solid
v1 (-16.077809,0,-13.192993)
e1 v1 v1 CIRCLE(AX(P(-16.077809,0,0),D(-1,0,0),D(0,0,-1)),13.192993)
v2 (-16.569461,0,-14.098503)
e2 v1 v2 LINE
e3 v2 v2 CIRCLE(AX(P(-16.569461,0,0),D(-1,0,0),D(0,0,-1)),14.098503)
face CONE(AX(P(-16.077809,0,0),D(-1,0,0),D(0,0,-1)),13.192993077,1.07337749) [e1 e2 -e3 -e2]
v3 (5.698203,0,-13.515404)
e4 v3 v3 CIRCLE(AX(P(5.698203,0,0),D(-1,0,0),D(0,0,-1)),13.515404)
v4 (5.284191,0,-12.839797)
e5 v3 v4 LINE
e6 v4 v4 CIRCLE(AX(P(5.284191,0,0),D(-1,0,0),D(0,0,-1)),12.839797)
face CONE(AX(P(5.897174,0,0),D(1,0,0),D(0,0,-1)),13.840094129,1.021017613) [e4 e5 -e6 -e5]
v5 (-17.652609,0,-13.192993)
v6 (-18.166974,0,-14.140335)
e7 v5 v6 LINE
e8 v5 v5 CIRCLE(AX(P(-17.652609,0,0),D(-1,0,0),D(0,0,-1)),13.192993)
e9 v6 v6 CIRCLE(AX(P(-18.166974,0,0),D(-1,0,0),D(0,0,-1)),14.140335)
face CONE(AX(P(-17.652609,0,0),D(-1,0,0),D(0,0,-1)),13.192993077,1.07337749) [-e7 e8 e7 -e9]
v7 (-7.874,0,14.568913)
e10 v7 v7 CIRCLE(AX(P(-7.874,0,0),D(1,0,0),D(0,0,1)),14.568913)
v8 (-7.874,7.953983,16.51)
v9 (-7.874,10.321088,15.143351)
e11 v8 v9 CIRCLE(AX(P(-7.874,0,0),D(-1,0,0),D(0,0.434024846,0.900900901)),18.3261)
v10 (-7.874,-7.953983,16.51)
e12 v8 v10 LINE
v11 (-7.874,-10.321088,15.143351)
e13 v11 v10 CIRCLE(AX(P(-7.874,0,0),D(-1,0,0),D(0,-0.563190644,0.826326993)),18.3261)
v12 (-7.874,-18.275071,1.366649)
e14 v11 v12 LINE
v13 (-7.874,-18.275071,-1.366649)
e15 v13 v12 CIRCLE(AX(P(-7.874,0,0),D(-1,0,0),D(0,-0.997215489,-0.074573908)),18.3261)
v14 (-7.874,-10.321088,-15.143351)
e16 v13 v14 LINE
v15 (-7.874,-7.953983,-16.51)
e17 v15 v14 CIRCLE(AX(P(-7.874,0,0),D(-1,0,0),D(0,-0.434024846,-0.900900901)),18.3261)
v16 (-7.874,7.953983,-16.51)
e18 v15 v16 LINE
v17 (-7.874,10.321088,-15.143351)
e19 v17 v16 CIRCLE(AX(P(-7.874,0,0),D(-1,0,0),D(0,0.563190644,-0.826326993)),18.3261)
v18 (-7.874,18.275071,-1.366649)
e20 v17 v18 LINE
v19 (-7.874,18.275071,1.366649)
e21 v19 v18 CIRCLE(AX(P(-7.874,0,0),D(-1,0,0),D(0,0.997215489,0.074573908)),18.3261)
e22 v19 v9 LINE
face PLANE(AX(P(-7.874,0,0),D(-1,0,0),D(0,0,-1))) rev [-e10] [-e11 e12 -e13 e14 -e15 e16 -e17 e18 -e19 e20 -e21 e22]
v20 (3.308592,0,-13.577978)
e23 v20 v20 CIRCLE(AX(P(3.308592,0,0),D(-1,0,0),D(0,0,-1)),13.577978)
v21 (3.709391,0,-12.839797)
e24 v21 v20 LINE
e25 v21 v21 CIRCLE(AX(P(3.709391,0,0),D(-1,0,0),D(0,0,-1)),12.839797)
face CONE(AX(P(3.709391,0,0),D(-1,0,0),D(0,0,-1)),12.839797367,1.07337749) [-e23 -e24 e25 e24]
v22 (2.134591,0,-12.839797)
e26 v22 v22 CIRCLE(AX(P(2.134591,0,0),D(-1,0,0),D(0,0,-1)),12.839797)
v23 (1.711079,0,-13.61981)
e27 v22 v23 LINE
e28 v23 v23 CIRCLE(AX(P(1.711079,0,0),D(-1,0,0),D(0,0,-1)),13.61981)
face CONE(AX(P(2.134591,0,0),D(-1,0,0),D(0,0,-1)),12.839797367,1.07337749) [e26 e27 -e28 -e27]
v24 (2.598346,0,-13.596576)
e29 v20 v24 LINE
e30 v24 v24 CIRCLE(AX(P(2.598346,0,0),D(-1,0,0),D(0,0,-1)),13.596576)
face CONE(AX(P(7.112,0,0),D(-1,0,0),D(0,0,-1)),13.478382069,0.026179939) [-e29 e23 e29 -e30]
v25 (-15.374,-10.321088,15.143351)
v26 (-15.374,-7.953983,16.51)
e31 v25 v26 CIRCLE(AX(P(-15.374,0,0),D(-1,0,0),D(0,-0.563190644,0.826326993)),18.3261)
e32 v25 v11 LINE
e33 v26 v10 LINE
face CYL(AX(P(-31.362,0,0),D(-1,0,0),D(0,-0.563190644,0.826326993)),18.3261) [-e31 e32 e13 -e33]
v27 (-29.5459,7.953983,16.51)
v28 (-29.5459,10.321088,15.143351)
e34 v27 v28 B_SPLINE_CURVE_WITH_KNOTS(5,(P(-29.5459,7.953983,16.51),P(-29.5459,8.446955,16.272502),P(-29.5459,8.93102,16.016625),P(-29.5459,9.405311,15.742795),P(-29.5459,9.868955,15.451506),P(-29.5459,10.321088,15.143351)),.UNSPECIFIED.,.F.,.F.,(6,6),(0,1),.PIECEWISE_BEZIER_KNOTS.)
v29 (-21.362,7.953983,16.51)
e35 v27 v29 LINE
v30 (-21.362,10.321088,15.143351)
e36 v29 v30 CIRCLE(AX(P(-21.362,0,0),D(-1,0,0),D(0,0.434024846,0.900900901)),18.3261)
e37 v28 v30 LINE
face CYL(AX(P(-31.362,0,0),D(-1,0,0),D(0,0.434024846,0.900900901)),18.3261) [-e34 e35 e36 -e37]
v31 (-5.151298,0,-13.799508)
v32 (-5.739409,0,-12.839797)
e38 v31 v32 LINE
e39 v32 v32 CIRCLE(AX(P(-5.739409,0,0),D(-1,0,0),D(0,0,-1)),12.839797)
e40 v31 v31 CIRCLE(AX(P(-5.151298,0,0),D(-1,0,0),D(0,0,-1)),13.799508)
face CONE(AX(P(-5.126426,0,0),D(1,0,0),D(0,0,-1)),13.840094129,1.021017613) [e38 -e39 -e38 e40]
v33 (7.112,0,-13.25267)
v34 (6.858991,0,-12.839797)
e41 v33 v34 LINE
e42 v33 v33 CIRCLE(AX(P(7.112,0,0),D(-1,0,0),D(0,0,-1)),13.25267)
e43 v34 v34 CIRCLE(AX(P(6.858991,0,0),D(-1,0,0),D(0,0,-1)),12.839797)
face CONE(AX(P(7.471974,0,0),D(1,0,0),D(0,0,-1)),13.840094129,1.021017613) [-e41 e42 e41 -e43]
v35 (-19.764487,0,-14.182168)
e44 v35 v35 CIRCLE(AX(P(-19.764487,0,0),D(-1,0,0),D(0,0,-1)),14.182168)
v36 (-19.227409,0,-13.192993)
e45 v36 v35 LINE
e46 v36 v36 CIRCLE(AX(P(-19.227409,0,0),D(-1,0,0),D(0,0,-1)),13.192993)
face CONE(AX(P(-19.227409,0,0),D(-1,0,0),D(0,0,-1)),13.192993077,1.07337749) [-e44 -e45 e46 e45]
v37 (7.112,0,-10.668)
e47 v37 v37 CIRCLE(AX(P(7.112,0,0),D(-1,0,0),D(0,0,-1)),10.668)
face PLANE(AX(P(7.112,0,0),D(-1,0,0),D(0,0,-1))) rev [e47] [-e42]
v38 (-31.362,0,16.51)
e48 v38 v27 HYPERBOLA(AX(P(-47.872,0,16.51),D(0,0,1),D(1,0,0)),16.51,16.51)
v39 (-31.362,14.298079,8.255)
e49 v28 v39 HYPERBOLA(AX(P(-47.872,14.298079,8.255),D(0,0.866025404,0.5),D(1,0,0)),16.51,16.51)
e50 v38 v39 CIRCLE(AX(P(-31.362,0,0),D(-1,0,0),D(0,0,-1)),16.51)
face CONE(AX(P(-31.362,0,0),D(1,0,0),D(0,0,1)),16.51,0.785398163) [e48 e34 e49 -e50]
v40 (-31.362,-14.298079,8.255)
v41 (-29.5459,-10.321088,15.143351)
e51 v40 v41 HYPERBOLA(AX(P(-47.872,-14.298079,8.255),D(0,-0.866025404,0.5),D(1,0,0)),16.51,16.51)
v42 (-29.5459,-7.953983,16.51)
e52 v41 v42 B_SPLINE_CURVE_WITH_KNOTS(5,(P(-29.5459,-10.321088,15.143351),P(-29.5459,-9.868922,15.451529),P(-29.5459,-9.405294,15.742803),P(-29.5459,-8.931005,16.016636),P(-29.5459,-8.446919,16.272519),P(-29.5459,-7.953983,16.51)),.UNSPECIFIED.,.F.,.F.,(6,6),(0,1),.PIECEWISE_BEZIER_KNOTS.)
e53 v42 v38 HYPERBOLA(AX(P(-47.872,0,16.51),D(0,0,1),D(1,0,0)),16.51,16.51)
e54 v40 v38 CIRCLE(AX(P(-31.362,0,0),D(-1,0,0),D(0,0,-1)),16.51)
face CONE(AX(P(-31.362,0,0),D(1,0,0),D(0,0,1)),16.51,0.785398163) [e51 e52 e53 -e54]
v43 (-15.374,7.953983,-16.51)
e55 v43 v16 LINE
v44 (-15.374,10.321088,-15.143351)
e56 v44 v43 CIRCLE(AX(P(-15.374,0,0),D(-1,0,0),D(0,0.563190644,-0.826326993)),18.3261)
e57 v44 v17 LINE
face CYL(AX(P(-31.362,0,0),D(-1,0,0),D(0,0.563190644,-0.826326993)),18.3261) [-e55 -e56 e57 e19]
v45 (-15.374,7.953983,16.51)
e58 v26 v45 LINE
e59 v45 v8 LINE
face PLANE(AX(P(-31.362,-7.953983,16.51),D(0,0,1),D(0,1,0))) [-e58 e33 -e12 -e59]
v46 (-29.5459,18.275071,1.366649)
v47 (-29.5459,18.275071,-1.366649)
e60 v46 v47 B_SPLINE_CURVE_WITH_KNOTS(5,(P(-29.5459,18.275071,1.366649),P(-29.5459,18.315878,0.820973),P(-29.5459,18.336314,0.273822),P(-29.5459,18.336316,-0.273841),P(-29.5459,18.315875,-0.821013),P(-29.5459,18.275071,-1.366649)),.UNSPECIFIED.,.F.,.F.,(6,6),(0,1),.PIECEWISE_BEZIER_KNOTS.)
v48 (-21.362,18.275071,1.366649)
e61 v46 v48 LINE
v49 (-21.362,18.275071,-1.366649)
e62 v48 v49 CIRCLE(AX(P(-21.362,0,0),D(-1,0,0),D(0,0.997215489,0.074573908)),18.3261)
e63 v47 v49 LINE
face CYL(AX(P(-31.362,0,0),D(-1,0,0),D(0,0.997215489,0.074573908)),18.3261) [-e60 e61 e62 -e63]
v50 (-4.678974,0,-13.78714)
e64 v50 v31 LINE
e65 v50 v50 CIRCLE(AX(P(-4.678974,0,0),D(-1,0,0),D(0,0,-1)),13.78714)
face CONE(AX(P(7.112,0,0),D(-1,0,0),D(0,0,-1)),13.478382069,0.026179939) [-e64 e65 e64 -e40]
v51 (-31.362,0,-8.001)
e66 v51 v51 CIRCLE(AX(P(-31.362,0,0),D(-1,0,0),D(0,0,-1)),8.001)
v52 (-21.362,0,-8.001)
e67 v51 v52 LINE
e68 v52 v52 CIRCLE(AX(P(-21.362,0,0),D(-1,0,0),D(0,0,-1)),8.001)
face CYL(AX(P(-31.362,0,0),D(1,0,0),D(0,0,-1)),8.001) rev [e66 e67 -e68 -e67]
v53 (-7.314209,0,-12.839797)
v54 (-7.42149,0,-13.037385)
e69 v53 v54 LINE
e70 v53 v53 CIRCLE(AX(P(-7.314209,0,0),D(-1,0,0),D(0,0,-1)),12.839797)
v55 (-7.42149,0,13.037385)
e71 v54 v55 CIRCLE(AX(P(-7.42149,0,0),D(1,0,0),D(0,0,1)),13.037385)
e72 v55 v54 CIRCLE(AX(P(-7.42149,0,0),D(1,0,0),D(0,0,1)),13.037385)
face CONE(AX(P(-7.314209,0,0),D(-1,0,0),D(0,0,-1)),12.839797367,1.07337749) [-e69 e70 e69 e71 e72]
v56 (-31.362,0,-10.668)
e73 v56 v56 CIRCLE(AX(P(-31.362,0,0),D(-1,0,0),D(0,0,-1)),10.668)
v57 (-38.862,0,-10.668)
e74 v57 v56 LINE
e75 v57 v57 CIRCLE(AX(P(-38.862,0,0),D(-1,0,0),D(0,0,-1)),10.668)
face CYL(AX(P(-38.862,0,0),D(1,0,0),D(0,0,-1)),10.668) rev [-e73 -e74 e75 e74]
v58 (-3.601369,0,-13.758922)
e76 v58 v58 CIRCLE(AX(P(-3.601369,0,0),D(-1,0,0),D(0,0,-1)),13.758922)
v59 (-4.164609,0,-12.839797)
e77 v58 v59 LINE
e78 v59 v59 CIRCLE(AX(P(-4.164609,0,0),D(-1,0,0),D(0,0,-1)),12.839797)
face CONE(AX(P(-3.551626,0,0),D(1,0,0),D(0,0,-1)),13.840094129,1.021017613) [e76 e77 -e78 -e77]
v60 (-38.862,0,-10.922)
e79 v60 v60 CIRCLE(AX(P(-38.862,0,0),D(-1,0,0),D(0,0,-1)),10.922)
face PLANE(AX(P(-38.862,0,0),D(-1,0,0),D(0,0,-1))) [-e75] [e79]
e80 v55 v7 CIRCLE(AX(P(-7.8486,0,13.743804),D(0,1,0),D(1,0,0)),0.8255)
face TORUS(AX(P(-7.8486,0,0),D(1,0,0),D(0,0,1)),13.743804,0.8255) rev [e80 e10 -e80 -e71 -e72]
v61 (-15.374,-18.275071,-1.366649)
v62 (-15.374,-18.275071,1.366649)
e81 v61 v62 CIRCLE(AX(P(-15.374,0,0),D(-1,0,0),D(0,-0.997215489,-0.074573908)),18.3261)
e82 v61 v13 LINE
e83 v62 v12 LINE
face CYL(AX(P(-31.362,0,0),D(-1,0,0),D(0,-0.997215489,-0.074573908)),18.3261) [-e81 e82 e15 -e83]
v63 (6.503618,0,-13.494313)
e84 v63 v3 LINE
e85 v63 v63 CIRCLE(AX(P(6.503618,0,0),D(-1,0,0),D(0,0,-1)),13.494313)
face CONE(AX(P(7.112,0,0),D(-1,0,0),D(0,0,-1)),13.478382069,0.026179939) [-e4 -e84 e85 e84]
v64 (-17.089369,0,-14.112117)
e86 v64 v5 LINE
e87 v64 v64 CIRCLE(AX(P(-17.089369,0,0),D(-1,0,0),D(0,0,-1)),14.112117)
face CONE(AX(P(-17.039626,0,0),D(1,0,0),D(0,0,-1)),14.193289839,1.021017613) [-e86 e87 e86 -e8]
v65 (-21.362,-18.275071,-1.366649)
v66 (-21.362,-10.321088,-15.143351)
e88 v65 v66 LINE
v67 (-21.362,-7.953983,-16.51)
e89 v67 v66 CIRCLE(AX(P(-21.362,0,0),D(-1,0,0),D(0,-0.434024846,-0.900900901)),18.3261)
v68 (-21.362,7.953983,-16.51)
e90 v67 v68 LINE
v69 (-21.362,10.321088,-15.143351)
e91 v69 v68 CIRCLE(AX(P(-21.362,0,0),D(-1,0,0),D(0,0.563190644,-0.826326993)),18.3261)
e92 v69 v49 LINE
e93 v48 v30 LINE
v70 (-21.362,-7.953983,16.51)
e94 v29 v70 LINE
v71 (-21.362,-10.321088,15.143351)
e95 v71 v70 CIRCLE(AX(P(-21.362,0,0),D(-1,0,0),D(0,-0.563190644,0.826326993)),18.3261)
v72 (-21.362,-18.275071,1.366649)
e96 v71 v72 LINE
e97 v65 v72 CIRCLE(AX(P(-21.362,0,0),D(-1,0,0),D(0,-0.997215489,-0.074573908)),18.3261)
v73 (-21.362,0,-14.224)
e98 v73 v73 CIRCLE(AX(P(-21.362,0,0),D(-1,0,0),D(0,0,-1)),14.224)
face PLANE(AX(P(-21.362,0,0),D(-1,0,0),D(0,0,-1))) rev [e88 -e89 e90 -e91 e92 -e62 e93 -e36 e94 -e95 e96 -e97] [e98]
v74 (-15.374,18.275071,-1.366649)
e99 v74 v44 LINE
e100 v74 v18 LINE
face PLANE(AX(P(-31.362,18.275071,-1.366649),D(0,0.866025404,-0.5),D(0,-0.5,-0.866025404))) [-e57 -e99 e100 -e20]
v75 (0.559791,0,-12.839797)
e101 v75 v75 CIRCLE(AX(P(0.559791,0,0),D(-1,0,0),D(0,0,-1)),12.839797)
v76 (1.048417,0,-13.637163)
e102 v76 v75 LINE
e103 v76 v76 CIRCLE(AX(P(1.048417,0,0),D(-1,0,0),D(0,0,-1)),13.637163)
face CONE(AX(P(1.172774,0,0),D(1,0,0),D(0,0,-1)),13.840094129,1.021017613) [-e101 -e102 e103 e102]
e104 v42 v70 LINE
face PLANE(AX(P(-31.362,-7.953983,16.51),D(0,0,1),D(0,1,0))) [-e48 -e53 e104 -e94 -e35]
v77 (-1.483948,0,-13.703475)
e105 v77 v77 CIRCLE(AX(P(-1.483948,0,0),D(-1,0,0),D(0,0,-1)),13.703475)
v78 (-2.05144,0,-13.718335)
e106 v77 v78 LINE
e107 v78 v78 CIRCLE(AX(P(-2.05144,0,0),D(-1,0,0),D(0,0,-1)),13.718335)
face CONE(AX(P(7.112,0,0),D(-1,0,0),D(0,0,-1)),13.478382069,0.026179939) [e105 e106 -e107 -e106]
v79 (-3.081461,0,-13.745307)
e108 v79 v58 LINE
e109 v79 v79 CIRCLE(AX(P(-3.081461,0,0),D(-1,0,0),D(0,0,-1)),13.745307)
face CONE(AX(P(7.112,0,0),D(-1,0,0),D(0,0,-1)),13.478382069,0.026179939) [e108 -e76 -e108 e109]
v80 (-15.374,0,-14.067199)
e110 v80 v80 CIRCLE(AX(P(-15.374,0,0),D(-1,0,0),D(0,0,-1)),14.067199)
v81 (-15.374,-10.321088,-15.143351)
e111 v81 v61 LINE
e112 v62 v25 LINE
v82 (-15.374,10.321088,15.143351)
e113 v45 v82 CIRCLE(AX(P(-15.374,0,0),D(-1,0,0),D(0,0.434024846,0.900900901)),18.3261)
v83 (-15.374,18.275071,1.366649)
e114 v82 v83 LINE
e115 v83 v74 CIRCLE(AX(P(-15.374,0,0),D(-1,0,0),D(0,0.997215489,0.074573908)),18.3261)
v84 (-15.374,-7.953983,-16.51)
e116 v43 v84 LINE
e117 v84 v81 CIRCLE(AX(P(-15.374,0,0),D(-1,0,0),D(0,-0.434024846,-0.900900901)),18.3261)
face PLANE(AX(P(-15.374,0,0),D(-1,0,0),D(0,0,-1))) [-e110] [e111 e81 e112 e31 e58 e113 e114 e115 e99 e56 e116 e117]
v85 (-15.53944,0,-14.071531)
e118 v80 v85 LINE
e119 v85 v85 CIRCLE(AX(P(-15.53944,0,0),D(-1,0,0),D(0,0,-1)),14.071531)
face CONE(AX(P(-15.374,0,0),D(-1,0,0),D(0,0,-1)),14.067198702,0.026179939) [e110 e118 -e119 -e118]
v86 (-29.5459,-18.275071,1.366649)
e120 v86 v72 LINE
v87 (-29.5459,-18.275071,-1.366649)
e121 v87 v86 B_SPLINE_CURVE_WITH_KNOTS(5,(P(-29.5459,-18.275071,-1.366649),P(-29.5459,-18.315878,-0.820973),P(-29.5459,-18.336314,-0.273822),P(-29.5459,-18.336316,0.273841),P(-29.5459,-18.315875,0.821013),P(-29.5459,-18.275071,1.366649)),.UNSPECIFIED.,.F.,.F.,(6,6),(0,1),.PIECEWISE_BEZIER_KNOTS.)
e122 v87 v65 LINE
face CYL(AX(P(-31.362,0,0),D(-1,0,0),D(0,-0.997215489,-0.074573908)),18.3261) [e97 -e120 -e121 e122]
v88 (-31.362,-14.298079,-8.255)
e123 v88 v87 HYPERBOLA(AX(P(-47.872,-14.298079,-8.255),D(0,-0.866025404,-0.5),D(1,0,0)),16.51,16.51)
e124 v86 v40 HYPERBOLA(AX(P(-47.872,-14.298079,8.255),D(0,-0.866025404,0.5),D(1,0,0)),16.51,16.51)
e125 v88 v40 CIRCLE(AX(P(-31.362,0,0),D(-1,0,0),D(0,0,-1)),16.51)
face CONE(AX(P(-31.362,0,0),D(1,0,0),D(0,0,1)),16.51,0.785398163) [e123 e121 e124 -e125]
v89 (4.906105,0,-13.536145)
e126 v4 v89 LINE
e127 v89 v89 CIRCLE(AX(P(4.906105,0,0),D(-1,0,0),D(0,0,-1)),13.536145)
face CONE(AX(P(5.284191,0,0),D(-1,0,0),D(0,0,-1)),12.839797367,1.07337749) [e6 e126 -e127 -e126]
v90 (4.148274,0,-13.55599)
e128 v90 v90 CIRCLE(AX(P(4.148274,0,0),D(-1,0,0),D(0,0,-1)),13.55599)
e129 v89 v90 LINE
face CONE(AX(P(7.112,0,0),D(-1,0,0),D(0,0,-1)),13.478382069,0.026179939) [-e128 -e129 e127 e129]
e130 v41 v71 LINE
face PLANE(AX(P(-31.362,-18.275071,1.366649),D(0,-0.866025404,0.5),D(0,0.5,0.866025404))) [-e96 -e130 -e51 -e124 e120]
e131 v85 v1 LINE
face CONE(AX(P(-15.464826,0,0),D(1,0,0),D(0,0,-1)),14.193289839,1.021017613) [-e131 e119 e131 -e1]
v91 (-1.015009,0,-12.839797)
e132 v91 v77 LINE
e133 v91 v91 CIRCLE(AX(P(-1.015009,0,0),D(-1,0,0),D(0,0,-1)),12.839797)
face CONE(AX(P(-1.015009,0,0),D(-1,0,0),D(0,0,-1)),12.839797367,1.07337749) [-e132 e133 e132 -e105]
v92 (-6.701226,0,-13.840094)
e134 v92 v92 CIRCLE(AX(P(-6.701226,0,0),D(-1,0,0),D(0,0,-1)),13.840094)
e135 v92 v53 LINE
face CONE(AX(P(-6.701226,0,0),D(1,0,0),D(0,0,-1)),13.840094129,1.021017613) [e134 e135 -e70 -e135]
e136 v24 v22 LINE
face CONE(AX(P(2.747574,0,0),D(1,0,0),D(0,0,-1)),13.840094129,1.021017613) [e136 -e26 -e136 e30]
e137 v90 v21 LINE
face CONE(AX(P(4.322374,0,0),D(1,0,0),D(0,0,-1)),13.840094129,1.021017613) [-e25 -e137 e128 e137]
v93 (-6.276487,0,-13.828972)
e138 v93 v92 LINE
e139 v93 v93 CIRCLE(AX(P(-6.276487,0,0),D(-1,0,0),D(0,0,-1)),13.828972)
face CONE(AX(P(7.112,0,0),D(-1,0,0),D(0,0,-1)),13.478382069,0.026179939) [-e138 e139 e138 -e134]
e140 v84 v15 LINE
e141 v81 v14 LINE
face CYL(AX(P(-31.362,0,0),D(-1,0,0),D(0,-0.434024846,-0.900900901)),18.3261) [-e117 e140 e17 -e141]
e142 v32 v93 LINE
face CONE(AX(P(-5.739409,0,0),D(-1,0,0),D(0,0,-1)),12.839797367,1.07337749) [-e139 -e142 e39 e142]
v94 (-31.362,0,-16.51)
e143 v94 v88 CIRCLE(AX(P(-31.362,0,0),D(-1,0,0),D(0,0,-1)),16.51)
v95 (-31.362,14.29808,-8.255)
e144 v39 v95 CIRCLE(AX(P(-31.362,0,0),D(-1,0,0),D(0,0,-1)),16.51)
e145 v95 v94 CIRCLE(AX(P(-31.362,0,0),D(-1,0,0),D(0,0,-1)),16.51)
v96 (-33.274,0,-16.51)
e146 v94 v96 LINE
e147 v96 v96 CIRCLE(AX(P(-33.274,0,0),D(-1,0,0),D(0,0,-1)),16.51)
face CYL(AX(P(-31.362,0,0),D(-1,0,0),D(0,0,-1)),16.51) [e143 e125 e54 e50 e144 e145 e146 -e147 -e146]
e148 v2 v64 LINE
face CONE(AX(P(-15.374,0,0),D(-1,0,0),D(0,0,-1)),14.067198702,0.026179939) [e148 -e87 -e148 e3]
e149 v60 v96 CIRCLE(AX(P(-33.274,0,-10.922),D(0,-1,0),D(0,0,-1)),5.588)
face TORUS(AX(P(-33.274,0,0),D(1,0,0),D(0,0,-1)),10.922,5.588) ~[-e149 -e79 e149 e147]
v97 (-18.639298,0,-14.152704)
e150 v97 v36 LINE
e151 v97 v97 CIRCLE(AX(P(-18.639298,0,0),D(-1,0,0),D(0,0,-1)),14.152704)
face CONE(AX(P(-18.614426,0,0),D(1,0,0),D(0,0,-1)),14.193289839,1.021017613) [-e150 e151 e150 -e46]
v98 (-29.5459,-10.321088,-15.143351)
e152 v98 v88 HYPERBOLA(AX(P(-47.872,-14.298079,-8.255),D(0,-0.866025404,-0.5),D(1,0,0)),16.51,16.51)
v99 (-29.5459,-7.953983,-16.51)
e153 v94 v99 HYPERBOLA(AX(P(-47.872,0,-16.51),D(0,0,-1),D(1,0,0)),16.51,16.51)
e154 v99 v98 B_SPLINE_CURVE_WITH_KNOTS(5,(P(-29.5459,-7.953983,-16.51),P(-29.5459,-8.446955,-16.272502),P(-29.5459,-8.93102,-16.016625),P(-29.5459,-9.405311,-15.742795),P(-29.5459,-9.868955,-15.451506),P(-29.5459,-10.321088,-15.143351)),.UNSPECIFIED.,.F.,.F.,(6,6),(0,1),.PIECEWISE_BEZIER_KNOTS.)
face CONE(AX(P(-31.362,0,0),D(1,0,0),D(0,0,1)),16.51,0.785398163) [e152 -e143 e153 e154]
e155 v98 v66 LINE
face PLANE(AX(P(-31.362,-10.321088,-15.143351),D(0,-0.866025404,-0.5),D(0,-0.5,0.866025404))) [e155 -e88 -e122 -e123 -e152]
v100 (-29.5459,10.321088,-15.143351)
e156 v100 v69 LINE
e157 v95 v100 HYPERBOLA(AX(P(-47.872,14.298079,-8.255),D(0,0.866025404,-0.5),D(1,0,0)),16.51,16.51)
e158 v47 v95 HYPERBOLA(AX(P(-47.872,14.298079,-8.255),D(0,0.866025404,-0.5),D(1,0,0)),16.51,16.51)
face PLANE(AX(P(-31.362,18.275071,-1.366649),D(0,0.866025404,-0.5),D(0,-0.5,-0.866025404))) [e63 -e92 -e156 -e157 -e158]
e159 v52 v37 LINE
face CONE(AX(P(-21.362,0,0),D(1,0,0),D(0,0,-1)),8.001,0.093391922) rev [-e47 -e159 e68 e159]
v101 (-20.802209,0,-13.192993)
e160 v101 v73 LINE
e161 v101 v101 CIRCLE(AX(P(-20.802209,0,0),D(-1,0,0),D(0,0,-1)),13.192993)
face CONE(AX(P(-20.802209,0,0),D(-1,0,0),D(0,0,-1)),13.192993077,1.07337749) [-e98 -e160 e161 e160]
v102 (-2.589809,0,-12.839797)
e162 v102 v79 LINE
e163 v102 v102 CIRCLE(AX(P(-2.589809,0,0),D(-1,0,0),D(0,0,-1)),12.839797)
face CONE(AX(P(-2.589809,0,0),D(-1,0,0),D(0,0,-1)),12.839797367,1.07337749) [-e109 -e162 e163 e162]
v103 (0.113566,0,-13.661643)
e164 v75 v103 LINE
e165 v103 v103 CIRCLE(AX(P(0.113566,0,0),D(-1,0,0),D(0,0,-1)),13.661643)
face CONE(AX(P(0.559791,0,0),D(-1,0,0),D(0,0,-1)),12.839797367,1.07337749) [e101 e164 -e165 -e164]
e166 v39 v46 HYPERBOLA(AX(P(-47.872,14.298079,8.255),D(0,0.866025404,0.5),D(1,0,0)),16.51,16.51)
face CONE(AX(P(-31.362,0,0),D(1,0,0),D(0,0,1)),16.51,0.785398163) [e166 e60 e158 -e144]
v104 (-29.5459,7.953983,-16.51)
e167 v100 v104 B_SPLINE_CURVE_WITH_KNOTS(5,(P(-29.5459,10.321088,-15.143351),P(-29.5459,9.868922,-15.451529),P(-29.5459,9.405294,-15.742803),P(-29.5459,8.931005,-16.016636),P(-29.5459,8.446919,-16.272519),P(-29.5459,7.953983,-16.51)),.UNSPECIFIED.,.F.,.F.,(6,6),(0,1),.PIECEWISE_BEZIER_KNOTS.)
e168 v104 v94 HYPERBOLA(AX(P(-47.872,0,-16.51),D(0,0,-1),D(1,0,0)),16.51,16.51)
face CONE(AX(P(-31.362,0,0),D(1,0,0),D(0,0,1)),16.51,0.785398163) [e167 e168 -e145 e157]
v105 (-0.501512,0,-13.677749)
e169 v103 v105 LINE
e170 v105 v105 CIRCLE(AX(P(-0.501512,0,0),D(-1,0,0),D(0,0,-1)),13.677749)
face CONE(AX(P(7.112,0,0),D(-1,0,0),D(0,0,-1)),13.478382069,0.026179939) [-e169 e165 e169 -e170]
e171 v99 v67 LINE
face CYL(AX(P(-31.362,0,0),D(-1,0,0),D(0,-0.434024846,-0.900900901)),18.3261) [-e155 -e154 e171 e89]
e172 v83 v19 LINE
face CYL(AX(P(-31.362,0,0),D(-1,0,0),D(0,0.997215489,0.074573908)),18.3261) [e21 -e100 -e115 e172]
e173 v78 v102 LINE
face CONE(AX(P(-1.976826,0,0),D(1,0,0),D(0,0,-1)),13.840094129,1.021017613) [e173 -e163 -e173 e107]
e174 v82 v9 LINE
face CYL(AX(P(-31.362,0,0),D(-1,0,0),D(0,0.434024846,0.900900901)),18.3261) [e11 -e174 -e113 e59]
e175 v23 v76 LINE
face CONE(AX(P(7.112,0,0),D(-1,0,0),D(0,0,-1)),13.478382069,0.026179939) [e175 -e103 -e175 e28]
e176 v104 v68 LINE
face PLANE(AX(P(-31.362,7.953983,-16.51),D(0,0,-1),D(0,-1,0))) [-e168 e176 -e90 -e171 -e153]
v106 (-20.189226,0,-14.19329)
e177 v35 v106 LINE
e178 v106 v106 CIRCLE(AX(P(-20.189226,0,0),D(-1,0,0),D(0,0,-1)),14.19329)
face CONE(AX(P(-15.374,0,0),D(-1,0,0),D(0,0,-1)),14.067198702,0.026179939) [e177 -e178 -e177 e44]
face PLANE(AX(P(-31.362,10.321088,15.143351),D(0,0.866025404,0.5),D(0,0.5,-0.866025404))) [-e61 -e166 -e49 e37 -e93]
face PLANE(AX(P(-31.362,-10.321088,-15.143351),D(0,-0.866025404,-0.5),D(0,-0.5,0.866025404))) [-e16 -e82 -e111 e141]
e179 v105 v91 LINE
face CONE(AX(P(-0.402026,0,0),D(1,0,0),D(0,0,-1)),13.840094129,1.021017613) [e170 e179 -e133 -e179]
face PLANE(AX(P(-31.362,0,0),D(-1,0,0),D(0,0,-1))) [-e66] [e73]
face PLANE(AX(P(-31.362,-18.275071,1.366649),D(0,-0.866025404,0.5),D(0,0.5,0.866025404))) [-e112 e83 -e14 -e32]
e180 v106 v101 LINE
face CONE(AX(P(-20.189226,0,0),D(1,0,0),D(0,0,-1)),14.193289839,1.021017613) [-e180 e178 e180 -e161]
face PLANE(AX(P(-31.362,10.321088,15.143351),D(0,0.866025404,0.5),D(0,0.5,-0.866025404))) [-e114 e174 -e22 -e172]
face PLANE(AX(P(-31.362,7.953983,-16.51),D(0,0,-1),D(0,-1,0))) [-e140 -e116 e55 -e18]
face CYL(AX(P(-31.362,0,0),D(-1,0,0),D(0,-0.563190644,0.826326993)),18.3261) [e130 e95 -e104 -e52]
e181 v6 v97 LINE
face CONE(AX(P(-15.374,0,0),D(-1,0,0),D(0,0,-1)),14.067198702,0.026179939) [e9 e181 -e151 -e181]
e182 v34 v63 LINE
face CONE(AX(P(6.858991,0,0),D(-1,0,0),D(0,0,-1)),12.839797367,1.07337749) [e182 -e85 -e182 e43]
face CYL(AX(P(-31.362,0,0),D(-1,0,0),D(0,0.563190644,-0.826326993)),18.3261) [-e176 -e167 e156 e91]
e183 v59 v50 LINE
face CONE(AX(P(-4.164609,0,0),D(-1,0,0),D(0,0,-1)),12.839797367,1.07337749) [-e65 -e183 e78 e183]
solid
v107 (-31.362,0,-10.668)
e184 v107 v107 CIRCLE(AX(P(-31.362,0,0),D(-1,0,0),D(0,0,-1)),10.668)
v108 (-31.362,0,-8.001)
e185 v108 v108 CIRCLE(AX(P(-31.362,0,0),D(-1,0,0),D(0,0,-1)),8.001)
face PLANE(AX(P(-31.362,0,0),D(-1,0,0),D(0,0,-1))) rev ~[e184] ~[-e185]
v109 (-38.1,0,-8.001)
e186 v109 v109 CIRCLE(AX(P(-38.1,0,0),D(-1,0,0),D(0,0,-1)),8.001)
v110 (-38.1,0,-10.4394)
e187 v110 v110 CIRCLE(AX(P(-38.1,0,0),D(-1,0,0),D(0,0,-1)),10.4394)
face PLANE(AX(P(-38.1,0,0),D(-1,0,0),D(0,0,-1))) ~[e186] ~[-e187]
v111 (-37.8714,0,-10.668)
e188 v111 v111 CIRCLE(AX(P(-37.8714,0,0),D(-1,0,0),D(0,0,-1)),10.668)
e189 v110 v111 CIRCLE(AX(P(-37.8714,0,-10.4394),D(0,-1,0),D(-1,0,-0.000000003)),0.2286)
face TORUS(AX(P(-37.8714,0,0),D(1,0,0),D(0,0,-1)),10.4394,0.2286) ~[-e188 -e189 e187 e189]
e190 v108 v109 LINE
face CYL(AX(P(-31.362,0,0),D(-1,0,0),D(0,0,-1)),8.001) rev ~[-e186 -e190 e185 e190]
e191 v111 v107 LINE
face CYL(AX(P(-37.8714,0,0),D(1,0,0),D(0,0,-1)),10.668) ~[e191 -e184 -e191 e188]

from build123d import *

# Parameters (mm, degrees)
LPATTERN6_COUNT    = 4
LPATTERN6_PITCH    = 1.5748
LPATTERN7_COUNT    = 10
LPATTERN7_PITCH    = 1.5748
SKETCH12_OUTSIDE_W = 88.86
SKETCH12_OUTSIDE_H = 88.86
CUT_EXTRUDE2_DEPTH = 39.474
FILLET4_R          = 5.588
SKETCH19_OUTSIDE_W = 56.502
SKETCH19_OUTSIDE_H = 60.134
SKETCH19_OUTSIDE_R = 16.51
CUT_EXTRUDE3_DEPTH = 3.99796
CUT_EXTRUDE3_DRAFT = -45
SKETCH28_R         = 0.8255


with BuildPart() as part:
    # Sketch10 → Revolve2 (revolve)
    with BuildSketch(Plane.XY, mode=Mode.PRIVATE) as revolve2_sk:
        Polygon((-31.362, 8.001), (-21.362, 8.001), (7.112, 10.668), (7.112, 13.478382069), (-7.874, 13.87080429), (-7.874, 33.02), (-15.374, 33.02), (-15.374, 14.067198702), (-21.362, 14.224), (-21.362, 33.02), (-31.362, 33.02), (-31.362, 16.51), (-38.862, 16.51), (-38.862, 10.668), (-31.362, 10.668), align=None)
    revolve(revolve2_sk.sketch.rotate(Axis((0, 0, 0), (-1, 0, 0)), 90), axis=Axis((0, 0, 0), (-1, 0, 0)))  # turned: the seam where the file's is

    # Sketch26 → Cut-Revolve1 (revolve, cut)
    with BuildSketch(Plane.XY, mode=Mode.PRIVATE) as cut_revolve1_sk:
        Polygon((-21.362, 14.224), (-20.189226271, 14.193289839), (-20.802208915, 13.192993077), align=None)
    cut_revolve1 = revolve(cut_revolve1_sk.sketch.rotate(Axis((0, 0, 0), (-1, 0, 0)), 90), axis=Axis((0, 0, 0), (-1, 0, 0)), mode=Mode.SUBTRACT)  # turned: the seam where the file's is

    # LPattern6: Cut-Revolve1 ×4
    with Locations(*[(i * LPATTERN6_PITCH, 0, 0) for i in range(1, LPATTERN6_COUNT)]):
        add(cut_revolve1, mode=Mode.SUBTRACT)

    # Sketch27 → Cut-Revolve2 (revolve, cut)
    with BuildSketch(Plane.XY, mode=Mode.PRIVATE) as cut_revolve2_sk:
        Polygon((-7.874, 13.87080429), (-6.701226271, 13.840094129), (-7.314208915, 12.839797367), align=None)
    cut_revolve2 = revolve(cut_revolve2_sk.sketch.rotate(Axis((0, 0, 0), (-1, 0, 0)), 90), axis=Axis((0, 0, 0), (-1, 0, 0)), mode=Mode.SUBTRACT)  # turned: the seam where the file's is

    # LPattern7: Cut-Revolve2 ×10
    with Locations(*[(i * LPATTERN7_PITCH, 0, 0) for i in range(1, LPATTERN7_COUNT)]):
        add(cut_revolve2, mode=Mode.SUBTRACT)

    # Sketch12 outside → Cut-Extrude2 (cut, through all)
    with BuildSketch(Plane.ZY.offset(31.362)):
        Rectangle(SKETCH12_OUTSIDE_W, SKETCH12_OUTSIDE_H)
        with BuildLine():
            Line((-1.366648898, 18.27507078), (-15.143351102, 10.321088053))
            ThreePointArc((-15.143351102, 10.321088053), (-15.870868152, 9.16305), (-16.51, 7.953982726))
            Line((-16.51, 7.953982726), (-16.51, -7.953982726))
            ThreePointArc((-16.51, -7.953982726), (-15.870868152, -9.16305), (-15.143351102, -10.321088053))
            Line((-15.143351102, -10.321088053), (-1.366648898, -18.27507078))
            ThreePointArc((-1.366648898, -18.27507078), (0, -18.3261), (1.366648898, -18.27507078))
            Line((1.366648898, -18.27507078), (15.143351102, -10.321088053))
            ThreePointArc((15.143351102, -10.321088053), (15.870868152, -9.16305), (16.51, -7.953982726))
            Line((16.51, -7.953982726), (16.51, 7.953982726))
            ThreePointArc((16.51, 7.953982726), (15.870868152, 9.16305), (15.143351102, 10.321088053))
            Line((15.143351102, 10.321088053), (1.366648898, 18.27507078))
            ThreePointArc((1.366648898, 18.27507078), (0, 18.3261), (-1.366648898, 18.27507078))
        make_face(mode=Mode.SUBTRACT)
    extrude(amount=-CUT_EXTRUDE2_DEPTH, mode=Mode.SUBTRACT)

    # Fillet4
    fillet4_edges = [part.edges().sort_by_distance(p)[0] for p in [
        (-38.862, 0, 16.51),
    ]]
    fillet(fillet4_edges, radius=FILLET4_R)


with BuildPart() as body_2:
    # Sketch30 → Revolve8 (revolve)
    with BuildSketch(Plane.XY, mode=Mode.PRIVATE) as revolve8_sk:
        with BuildLine():
            Line((-37.8714, 10.668), (-31.362, 10.668))
            Line((-31.362, 10.668), (-31.362, 8.001))
            Line((-31.362, 8.001), (-38.1, 8.001))
            Line((-38.1, 8.001), (-38.1, 10.4394))
            ThreePointArc((-38.1, 10.4394), (-38.03304461, 10.60104461), (-37.8714, 10.668))
        make_face()
    revolve(revolve8_sk.sketch.rotate(Axis((0, 0, 0), (-1, 0, 0)), 90), axis=Axis((0, 0, 0), (-1, 0, 0)))  # turned: the seam where the file's is


with BuildPart() as cut_extrude3_tool:
    # Sketch19 outside → Cut-Extrude3 (with draft: the straight prism first)
    with BuildSketch(Plane.ZY.offset(31.362)):
        Rectangle(SKETCH19_OUTSIDE_W, SKETCH19_OUTSIDE_H)
        Circle(SKETCH19_OUTSIDE_R, mode=Mode.SUBTRACT)
    extrude(amount=-CUT_EXTRUDE3_DEPTH)
    # Cut-Extrude3: the draft: its side faces are tilted about the plane it starts from
    cut_extrude3_sides = [cut_extrude3_tool.faces().sort_by_distance(p)[0] for p in [
        (-29.36302, -30.067, 0),
        (-29.36302, 0, 28.251),
        (-29.36302, 30.067, 0),
        (-29.36302, 0, -28.251),
        (-29.36302, 0, -16.51),
    ]]
    draft(cut_extrude3_sides, Plane.ZY.offset(31.362), CUT_EXTRUDE3_DRAFT)


with BuildPart() as part_1:
    add(part.part)

    # Cut-Extrude3: cut by cut_extrude3_tool
    add(cut_extrude3_tool.part, mode=Mode.SUBTRACT)

    # Sketch28 → Cut-Revolve3 (revolve, cut)
    with BuildSketch(Plane.XY, mode=Mode.PRIVATE) as cut_revolve3_sk:
        with Locations((-7.8486, -13.74380429)):
            Circle(SKETCH28_R)
    revolve(cut_revolve3_sk.sketch.rotate(Axis((7.112, 0, 0), (-1, 0, 0)), 90), axis=Axis((7.112, 0, 0), (-1, 0, 0)), mode=Mode.SUBTRACT)  # turned: the seam where the file's is


solid = Compound([body_2.part, part_1.part])
